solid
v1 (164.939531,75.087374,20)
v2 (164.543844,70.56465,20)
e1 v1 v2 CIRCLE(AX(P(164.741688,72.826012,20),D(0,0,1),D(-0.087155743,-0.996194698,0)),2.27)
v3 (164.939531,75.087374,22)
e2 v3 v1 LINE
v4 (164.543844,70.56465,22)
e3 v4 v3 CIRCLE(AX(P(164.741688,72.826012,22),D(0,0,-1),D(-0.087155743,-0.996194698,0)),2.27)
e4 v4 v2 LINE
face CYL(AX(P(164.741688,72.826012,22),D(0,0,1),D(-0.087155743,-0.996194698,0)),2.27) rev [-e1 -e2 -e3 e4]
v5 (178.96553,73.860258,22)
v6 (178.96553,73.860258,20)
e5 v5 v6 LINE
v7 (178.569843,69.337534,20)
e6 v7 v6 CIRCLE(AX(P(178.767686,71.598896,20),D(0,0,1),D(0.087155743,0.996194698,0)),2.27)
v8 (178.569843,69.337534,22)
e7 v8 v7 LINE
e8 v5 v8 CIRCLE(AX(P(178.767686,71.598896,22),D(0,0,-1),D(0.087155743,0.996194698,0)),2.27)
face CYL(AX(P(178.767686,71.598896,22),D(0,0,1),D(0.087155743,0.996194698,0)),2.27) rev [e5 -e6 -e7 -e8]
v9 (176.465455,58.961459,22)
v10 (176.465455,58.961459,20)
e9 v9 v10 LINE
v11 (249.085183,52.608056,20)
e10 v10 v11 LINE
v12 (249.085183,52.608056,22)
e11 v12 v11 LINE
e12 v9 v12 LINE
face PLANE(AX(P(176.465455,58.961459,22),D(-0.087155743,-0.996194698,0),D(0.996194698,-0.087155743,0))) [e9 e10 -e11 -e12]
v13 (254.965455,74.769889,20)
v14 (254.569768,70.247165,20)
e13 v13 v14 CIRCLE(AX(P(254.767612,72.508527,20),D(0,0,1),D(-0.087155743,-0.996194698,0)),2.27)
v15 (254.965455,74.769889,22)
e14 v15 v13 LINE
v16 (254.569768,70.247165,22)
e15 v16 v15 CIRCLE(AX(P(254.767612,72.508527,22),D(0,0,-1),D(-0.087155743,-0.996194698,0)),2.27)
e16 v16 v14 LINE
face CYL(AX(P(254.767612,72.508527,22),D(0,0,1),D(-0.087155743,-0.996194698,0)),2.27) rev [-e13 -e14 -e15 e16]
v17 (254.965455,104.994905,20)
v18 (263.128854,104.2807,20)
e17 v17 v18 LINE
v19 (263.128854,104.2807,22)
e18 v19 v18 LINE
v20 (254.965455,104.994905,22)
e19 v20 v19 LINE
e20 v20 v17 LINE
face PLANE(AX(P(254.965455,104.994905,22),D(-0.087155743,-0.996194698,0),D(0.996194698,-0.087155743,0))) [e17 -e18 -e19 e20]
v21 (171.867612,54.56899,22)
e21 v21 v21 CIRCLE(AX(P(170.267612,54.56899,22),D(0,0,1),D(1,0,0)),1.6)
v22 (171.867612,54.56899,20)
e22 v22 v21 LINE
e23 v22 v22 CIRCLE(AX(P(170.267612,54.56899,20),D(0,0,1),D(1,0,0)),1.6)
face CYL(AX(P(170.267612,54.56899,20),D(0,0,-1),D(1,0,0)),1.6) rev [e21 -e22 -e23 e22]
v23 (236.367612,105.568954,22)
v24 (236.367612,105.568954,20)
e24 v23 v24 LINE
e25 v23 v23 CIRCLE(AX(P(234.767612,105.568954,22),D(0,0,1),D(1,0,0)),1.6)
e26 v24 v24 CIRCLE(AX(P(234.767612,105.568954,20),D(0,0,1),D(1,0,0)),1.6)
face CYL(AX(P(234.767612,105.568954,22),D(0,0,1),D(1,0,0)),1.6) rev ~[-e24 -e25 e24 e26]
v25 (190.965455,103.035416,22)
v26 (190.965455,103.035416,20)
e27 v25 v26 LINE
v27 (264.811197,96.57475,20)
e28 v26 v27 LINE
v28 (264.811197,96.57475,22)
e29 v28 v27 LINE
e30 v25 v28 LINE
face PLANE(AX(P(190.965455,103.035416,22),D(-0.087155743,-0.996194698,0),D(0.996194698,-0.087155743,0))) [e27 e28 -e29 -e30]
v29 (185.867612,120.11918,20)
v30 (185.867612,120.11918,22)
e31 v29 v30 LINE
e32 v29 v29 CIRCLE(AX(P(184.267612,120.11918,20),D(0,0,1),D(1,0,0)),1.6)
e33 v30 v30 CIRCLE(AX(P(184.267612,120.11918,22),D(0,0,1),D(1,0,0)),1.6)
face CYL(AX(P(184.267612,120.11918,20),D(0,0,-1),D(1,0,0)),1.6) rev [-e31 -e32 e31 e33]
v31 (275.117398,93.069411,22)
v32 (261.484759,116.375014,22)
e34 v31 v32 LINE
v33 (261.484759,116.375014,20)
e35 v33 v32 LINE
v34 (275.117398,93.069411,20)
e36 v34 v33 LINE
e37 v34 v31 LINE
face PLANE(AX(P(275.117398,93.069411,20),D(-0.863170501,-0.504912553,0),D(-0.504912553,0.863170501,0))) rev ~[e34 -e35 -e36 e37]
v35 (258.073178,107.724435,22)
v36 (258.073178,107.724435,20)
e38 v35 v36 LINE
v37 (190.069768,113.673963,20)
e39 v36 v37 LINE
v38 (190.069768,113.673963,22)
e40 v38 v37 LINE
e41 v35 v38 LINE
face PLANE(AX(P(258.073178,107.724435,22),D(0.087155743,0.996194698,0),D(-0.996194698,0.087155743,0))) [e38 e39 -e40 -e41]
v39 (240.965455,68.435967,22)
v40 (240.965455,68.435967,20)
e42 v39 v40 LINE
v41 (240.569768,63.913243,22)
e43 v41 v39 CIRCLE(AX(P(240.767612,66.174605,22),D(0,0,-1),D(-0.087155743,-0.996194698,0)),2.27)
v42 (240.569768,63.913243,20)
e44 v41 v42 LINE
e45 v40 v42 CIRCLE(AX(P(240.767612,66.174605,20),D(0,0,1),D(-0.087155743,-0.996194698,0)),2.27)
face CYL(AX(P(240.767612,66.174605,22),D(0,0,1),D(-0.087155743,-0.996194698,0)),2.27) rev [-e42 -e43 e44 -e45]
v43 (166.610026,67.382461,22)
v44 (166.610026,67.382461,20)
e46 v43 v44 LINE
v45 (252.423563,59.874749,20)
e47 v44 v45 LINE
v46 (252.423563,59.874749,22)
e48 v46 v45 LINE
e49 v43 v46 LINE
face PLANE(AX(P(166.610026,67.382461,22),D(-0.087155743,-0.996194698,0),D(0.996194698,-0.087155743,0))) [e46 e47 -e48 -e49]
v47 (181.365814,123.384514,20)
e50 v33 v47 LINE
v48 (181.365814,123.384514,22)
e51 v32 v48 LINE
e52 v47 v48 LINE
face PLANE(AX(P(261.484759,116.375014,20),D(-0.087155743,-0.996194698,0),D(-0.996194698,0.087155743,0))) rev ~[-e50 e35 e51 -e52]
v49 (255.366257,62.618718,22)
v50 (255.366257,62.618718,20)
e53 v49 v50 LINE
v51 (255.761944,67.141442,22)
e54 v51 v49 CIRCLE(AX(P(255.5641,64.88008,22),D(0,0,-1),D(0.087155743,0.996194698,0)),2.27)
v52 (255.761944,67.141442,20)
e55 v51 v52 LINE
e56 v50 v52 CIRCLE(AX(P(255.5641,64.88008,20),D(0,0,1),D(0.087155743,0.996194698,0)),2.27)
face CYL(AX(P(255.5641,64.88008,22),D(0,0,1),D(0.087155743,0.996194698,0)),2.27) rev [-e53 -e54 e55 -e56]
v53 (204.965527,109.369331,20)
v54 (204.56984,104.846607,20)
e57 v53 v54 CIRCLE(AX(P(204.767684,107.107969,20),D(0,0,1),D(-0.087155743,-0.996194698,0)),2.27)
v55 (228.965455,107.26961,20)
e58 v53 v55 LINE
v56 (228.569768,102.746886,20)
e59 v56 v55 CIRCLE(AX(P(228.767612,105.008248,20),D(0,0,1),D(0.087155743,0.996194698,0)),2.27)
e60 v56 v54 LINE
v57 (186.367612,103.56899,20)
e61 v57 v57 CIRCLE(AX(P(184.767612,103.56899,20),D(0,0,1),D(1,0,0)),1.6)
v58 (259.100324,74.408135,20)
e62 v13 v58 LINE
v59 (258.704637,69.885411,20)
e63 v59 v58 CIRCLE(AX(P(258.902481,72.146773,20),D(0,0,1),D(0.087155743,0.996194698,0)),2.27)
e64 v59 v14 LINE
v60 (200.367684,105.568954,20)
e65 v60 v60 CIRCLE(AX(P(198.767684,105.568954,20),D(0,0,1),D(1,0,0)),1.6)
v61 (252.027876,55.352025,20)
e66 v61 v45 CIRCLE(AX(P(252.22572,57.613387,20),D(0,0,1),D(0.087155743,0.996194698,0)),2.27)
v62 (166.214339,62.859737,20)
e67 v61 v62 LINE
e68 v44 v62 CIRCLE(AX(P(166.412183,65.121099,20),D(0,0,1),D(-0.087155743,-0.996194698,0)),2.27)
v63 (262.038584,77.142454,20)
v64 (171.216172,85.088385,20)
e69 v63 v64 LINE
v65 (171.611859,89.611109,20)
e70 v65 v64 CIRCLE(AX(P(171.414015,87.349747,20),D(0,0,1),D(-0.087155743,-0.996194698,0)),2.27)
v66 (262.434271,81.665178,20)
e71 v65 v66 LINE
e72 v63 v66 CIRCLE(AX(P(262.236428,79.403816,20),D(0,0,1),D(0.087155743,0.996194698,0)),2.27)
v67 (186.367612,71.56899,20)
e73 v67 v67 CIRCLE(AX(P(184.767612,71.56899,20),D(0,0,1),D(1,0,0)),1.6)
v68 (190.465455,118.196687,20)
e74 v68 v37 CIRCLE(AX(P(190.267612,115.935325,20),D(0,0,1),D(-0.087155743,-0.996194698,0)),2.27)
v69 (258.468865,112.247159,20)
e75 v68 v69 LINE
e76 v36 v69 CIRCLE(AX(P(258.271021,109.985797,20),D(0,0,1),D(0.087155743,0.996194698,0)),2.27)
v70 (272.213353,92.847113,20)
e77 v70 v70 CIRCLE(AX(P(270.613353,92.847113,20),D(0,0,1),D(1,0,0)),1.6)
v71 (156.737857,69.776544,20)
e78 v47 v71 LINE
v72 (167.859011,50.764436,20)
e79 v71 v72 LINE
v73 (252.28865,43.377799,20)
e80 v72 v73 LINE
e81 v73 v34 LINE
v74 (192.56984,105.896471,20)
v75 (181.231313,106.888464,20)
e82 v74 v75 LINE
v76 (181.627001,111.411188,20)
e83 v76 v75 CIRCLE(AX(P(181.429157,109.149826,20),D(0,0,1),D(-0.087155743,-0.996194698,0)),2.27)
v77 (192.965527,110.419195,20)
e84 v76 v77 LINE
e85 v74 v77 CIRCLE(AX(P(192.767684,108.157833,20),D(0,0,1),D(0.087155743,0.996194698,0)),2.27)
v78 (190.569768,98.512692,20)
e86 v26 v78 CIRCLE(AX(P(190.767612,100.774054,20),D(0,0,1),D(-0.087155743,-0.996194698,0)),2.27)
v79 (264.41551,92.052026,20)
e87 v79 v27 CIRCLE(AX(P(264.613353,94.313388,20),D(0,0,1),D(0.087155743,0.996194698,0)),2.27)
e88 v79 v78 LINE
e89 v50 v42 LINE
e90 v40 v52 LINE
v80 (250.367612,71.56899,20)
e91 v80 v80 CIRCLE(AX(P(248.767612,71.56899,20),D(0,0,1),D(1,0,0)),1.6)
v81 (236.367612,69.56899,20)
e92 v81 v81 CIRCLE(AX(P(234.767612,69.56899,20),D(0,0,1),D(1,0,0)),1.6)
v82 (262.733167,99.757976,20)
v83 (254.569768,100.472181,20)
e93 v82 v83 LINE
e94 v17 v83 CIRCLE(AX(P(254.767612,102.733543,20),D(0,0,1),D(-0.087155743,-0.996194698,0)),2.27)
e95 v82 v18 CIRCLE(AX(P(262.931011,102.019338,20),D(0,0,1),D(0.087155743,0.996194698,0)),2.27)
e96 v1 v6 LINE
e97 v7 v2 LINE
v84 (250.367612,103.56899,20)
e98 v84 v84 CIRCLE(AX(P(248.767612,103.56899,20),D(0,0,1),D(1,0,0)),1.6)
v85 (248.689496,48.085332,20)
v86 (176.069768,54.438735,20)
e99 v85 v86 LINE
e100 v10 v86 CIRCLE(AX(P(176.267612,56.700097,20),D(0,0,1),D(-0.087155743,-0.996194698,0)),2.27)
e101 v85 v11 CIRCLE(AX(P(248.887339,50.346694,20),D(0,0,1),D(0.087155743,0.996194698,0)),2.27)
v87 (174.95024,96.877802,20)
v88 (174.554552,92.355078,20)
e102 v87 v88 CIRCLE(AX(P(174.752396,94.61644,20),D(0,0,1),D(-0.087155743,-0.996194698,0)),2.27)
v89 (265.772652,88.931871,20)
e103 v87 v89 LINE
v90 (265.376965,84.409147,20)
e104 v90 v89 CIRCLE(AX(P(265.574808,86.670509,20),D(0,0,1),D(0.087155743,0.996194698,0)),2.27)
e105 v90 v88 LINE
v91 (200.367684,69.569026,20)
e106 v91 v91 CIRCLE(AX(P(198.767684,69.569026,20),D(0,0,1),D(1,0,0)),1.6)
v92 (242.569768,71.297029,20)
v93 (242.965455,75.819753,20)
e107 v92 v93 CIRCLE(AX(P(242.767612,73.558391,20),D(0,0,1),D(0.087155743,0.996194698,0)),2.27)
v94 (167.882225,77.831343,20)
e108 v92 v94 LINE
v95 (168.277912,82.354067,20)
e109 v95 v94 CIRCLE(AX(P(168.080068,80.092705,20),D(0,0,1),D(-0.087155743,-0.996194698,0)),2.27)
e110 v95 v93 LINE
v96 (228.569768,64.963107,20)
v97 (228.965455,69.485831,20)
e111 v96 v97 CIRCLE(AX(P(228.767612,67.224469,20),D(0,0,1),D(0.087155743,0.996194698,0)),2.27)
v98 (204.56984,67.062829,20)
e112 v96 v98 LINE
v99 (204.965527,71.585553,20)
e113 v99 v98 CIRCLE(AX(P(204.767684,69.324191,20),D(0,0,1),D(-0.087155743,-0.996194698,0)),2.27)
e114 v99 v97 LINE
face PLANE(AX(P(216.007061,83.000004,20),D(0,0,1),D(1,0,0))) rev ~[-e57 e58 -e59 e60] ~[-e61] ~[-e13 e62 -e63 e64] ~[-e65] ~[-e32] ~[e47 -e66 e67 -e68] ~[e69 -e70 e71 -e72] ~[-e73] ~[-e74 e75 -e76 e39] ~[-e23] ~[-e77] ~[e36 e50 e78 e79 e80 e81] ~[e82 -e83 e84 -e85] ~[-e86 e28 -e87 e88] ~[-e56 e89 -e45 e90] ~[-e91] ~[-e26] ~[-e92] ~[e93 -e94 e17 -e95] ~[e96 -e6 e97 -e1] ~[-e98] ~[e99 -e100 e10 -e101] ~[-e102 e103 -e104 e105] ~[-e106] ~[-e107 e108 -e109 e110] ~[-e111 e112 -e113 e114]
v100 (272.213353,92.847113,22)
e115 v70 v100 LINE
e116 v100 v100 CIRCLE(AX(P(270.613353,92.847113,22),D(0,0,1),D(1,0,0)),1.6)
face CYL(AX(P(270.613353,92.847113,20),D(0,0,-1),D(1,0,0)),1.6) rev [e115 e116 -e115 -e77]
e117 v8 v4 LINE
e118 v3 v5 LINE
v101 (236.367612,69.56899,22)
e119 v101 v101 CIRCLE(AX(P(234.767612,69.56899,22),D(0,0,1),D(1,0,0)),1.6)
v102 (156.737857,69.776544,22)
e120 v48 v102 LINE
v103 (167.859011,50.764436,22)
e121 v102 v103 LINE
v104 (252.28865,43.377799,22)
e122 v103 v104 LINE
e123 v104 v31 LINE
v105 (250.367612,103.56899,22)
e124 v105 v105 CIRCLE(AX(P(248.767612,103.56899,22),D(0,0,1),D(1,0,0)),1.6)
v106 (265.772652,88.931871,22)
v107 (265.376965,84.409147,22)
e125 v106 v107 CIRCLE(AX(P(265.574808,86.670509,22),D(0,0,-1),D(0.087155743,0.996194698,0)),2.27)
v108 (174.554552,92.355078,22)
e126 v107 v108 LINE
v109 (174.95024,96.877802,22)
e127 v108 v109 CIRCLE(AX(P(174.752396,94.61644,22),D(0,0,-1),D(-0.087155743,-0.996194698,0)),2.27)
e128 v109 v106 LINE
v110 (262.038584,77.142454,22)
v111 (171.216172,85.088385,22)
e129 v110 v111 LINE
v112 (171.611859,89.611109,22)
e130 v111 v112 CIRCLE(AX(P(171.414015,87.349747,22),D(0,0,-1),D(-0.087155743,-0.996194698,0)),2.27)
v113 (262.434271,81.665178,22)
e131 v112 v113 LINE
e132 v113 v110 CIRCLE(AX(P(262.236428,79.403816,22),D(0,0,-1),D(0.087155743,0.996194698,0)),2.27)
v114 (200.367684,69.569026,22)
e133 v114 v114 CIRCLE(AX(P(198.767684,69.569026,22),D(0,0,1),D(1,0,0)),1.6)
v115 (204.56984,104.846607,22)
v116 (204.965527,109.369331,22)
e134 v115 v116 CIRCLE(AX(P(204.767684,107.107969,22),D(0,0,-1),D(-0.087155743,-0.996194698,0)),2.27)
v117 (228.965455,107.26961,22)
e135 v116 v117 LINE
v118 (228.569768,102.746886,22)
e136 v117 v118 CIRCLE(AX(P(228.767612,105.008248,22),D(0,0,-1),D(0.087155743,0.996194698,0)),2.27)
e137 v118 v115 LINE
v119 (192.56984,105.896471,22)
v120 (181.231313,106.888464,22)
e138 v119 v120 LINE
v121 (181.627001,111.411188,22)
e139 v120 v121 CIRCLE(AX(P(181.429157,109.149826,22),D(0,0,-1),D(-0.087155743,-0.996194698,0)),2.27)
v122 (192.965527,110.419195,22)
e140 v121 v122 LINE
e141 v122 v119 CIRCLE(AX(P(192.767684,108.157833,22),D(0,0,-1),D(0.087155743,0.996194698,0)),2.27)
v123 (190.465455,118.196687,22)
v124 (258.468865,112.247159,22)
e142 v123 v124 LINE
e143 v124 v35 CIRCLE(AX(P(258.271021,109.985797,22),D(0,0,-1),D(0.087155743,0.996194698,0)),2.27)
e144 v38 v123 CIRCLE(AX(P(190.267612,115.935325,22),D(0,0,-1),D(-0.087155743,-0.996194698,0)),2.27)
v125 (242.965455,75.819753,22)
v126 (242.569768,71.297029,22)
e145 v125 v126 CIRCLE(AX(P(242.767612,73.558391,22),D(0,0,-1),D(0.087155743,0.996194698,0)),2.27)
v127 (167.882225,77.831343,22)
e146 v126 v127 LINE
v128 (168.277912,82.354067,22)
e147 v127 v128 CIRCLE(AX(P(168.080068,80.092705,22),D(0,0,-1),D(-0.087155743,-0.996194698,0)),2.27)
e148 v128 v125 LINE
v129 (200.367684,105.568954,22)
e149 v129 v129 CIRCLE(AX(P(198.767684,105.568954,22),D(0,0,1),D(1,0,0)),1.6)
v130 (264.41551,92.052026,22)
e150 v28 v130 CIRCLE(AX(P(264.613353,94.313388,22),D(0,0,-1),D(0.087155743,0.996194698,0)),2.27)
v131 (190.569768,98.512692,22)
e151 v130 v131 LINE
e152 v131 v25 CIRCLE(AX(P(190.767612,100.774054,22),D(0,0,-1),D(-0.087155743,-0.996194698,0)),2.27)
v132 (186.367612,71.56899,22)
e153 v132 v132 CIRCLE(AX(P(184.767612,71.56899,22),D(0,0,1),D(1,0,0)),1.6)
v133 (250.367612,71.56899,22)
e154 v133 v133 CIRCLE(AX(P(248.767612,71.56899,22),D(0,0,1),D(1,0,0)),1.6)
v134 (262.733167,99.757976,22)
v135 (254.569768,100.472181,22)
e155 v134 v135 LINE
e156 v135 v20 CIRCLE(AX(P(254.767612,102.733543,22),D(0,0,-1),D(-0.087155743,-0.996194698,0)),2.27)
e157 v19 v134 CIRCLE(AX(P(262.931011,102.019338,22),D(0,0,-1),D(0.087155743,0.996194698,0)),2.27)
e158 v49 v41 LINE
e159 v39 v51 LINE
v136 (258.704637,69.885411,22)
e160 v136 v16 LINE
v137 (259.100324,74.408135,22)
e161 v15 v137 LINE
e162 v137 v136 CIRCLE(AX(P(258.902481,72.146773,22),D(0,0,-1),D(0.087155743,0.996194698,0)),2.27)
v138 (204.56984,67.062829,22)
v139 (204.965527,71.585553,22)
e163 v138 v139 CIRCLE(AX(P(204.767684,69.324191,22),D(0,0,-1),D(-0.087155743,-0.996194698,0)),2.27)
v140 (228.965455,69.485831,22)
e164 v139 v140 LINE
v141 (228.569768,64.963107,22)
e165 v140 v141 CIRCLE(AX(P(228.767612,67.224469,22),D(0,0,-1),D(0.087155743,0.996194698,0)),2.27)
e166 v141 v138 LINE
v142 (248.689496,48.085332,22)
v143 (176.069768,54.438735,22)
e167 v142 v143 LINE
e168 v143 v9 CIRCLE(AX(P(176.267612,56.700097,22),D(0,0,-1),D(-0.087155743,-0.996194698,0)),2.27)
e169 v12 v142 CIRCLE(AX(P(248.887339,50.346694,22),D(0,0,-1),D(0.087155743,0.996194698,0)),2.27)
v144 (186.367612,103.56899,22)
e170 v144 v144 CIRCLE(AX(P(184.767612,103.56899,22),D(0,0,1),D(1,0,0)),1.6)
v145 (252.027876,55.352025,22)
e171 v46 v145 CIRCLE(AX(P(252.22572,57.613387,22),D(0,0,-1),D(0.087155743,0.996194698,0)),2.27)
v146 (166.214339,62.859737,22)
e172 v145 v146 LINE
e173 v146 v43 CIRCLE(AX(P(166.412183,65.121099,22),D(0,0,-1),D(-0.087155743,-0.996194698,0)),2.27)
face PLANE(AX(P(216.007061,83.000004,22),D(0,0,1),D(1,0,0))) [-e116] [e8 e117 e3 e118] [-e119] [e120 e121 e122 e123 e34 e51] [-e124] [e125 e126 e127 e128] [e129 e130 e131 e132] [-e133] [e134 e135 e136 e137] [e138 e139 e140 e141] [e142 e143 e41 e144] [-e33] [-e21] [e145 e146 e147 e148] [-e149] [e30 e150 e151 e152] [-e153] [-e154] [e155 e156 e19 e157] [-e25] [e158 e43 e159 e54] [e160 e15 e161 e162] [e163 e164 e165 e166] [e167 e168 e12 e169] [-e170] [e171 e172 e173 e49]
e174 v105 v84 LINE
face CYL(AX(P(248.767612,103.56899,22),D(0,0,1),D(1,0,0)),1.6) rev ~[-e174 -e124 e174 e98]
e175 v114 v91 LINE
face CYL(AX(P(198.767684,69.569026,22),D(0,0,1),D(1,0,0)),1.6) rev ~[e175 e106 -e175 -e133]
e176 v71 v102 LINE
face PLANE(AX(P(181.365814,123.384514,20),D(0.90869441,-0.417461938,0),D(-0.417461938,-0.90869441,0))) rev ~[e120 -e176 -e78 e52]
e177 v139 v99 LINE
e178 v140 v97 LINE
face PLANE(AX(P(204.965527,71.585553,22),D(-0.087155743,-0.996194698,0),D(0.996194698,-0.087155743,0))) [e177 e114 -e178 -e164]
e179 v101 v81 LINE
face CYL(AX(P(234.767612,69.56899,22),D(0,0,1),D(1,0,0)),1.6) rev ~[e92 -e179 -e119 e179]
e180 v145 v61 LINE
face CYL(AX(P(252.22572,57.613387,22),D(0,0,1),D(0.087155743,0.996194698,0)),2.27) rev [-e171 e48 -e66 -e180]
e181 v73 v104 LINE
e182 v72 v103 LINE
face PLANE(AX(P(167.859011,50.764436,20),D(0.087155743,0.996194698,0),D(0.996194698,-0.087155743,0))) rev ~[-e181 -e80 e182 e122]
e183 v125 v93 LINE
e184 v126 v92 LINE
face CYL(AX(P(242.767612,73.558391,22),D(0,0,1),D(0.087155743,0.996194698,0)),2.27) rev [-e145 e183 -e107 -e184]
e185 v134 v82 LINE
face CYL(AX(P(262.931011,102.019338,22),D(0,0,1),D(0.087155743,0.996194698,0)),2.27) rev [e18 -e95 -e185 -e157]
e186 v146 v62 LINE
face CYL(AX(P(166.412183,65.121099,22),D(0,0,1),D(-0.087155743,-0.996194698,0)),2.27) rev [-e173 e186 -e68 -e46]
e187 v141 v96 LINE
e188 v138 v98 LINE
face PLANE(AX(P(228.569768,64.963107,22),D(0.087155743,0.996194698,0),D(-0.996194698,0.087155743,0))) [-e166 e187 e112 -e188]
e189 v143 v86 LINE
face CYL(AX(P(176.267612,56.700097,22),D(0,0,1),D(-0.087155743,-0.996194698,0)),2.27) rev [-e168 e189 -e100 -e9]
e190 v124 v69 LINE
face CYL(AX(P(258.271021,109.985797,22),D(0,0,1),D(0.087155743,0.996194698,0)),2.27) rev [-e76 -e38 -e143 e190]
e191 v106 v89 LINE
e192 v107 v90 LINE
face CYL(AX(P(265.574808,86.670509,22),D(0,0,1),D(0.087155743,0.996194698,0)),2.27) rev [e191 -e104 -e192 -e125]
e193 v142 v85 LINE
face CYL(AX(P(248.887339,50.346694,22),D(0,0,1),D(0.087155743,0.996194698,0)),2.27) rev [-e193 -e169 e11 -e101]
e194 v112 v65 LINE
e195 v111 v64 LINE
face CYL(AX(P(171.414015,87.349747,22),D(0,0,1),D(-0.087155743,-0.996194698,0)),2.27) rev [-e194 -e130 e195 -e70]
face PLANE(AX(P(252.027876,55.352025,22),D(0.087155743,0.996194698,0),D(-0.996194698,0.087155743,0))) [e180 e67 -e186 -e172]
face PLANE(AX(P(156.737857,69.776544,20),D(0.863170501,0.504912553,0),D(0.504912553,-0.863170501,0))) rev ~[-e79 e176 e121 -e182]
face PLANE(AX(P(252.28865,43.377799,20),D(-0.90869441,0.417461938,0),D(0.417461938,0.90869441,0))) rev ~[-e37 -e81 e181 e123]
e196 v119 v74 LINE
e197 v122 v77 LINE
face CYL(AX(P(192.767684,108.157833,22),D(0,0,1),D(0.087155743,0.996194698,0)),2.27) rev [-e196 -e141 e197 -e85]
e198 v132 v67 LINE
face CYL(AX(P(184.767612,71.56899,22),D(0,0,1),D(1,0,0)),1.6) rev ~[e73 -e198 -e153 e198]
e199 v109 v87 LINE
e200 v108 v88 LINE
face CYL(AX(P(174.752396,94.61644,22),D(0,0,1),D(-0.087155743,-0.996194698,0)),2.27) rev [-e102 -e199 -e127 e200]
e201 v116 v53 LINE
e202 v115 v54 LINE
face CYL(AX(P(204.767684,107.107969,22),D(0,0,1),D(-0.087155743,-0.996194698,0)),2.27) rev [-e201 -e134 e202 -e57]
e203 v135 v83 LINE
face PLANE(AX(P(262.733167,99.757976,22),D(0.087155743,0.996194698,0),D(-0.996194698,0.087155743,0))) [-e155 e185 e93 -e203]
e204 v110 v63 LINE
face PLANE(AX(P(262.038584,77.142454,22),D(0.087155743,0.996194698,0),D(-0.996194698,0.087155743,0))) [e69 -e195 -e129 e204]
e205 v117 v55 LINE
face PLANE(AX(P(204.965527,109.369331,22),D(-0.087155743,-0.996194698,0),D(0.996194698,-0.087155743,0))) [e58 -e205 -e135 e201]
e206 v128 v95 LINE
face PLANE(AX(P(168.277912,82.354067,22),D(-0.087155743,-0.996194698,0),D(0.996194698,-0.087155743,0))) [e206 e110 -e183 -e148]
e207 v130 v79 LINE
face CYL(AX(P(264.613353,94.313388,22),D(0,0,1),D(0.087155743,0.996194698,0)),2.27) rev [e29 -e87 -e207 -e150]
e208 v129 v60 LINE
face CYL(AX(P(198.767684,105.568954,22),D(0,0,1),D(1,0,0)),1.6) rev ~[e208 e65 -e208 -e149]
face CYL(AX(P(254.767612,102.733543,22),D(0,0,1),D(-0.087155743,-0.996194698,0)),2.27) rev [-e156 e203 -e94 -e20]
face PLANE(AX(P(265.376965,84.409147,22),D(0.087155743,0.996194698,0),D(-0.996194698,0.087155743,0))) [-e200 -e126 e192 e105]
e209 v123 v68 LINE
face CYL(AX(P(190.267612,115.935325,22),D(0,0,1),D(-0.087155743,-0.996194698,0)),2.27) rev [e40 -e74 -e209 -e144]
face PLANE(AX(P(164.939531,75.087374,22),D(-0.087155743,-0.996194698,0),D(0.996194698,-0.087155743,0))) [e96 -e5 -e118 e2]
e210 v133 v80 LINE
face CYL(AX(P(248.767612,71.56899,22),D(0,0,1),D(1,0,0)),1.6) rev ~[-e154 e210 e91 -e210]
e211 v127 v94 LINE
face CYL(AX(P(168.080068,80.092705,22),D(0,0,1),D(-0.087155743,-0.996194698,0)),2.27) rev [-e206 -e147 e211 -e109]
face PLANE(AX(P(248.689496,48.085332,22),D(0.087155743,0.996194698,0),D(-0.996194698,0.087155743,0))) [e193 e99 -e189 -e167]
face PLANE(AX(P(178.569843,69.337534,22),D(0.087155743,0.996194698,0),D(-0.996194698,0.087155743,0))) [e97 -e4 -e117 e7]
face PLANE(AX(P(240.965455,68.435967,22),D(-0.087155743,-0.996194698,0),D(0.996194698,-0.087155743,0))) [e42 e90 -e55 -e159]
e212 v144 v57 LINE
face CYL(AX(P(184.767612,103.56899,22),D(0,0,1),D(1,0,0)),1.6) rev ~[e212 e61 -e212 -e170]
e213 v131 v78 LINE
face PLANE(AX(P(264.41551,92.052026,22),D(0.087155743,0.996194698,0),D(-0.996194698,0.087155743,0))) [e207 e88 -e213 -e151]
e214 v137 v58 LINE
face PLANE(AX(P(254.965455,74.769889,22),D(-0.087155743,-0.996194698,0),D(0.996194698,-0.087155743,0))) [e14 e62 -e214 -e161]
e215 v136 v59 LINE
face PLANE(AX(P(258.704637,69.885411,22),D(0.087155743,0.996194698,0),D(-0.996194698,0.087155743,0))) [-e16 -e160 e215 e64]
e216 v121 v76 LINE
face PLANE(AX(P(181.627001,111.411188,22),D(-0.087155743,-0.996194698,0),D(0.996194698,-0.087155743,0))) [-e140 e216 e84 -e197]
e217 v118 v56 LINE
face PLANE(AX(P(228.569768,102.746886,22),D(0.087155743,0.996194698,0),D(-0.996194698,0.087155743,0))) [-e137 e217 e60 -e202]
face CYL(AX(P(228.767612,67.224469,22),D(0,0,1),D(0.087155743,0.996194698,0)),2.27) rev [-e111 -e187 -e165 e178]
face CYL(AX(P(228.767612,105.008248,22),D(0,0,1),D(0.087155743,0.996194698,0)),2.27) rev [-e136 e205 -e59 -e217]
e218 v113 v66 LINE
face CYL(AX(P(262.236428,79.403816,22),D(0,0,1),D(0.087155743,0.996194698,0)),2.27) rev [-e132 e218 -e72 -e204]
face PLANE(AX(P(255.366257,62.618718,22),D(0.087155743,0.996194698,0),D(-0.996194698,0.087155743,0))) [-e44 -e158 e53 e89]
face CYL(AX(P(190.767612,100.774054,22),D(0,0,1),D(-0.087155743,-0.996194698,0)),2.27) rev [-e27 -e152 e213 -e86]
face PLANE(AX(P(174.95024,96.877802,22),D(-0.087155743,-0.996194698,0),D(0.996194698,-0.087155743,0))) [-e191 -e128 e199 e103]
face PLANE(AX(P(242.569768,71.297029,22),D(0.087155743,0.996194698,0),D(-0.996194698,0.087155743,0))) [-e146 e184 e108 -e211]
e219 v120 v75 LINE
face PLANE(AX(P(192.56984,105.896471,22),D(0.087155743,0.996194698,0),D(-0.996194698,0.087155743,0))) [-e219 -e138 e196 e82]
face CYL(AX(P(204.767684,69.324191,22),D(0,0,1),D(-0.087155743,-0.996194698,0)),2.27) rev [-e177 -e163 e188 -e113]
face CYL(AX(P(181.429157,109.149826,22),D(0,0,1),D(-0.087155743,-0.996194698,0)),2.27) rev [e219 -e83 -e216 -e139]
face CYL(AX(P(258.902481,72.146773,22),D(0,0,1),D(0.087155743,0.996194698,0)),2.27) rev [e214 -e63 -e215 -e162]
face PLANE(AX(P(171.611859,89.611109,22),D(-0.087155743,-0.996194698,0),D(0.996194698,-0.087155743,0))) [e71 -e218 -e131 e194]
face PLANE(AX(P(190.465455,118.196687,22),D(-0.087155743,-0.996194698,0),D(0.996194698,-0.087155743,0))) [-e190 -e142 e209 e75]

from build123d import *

# Parameters (mm, degrees)
SKETCH2_R           = 1.6
BOSS_EXTRUDE1_DEPTH = 2
SKETCH3_R           = 1.6
CUT_EXTRUDE1_DEPTH  = 10
SKETCH4_R           = 1.6
CUT_EXTRUDE2_DEPTH  = 10
CUT_EXTRUDE3_DEPTH  = 10


with BuildPart() as part:
    # Sketch2 → Boss-Extrude1 (new body)
    with BuildSketch(Plane.XY.offset(20)):
        Polygon((252.288649586, 43.377799412), (275.117398408, 93.06941092), (261.484759484, 116.375014451), (181.365813862, 123.384513926), (156.737856831, 69.776544321), (167.859011127, 50.764435642), align=None)
        with Locations((184.267611591, 120.119180009)):
            Circle(SKETCH2_R, mode=Mode.SUBTRACT)
        with Locations((270.61335305, 92.847113196)):
            Circle(SKETCH2_R, mode=Mode.SUBTRACT)
        with Locations((170.267611591, 54.568989757)):
            Circle(SKETCH2_R, mode=Mode.SUBTRACT)
    extrude(amount=BOSS_EXTRUDE1_DEPTH)

    # Sketch3 → Cut-Extrude1 (cut)
    with BuildSketch(Plane.XY.offset(22)):
        with Locations((184.767611591, 103.568989757)):
            Circle(SKETCH3_R)
        with Locations((248.767611591, 103.568989757)):
            Circle(SKETCH3_R)
        with Locations((184.767611591, 71.568989757)):
            Circle(SKETCH3_R)
        with Locations((248.767611591, 71.568989757)):
            Circle(SKETCH3_R)
    extrude(amount=-CUT_EXTRUDE1_DEPTH, mode=Mode.SUBTRACT)

    # Sketch4 → Cut-Extrude2 (cut)
    with BuildSketch(Plane.XY.offset(22)):
        with Locations((198.767683591, 105.568953757)):
            Circle(SKETCH4_R)
        with Locations((234.767611591, 105.568953757)):
            Circle(SKETCH4_R)
        with Locations((198.767683591, 69.569025757)):
            Circle(SKETCH4_R)
        with Locations((234.767611591, 69.568989757)):
            Circle(SKETCH4_R)
    extrude(amount=-CUT_EXTRUDE2_DEPTH, mode=Mode.SUBTRACT)

    # Sketch5 → Cut-Extrude3 (cut)
    with BuildSketch(Plane.XY.offset(22)):
        with BuildLine():
            Line((190.465455127, 118.196686684), (258.46886477, 112.247159259))
            ThreePointArc((258.46886477, 112.247159259), (260.532383199, 109.787953759), (258.073177698, 107.72443533))
            Line((258.073177698, 107.72443533), (190.069768055, 113.673962755))
            ThreePointArc((190.069768055, 113.673962755), (188.006249627, 116.133168256), (190.465455127, 118.196686684))
        make_face()
        with BuildLine():
            Line((181.627000542, 111.411187887), (192.965527127, 110.41919535))
            ThreePointArc((192.965527127, 110.41919535), (195.029045556, 107.959989849), (192.569840055, 105.89647142))
            Line((192.569840055, 105.89647142), (181.23131347, 106.888463958))
            ThreePointArc((181.23131347, 106.888463958), (179.167795041, 109.347669458), (181.627000542, 111.411187887))
        make_face()
        with BuildLine():
            Line((204.965527127, 109.369331387), (228.965455127, 107.269609762))
            ThreePointArc((228.965455127, 107.269609762), (231.028973556, 104.810404261), (228.569768055, 102.746885833))
            Line((228.569768055, 102.746885833), (204.569840055, 104.846607458))
            ThreePointArc((204.569840055, 104.846607458), (202.506321627, 107.305812959), (204.965527127, 109.369331387))
        make_face()
        with BuildLine():
            Line((254.965455127, 104.99490451), (263.128854265, 104.28069963))
            ThreePointArc((263.128854265, 104.28069963), (265.192372694, 101.821494129), (262.733167193, 99.7579757))
            Line((262.733167193, 99.7579757), (254.569768055, 100.472180581))
            ThreePointArc((254.569768055, 100.472180581), (252.506249627, 102.931386082), (254.965455127, 104.99490451))
        make_face()
        with BuildLine():
            Line((190.965455127, 103.035415599), (264.811196586, 96.574750372))
            ThreePointArc((264.811196586, 96.574750372), (266.874715015, 94.115544871), (264.415509514, 92.052026442))
            Line((264.415509514, 92.052026442), (190.569768055, 98.51269167))
            ThreePointArc((190.569768055, 98.51269167), (188.506249627, 100.971897171), (190.965455127, 103.035415599))
        make_face()
        with BuildLine():
            Line((174.950239512, 96.877802033), (265.772651965, 88.931870549))
            ThreePointArc((265.772651965, 88.931870549), (267.836170393, 86.472665048), (265.376964893, 84.40914662))
            Line((265.376964893, 84.40914662), (174.55455244, 92.355078103))
            ThreePointArc((174.55455244, 92.355078103), (172.491034011, 94.814283604), (174.950239512, 96.877802033))
        make_face()
        with BuildLine():
            Line((171.611858997, 89.611109106), (262.43427145, 81.665177622))
            ThreePointArc((262.43427145, 81.665177622), (264.497789879, 79.205972121), (262.038584378, 77.142453693))
            Line((262.038584378, 77.142453693), (171.216171925, 85.088385176))
            ThreePointArc((171.216171925, 85.088385176), (169.152653497, 87.547590677), (171.611858997, 89.611109106))
        make_face()
        with BuildLine():
            Line((168.277911923, 82.354066501), (242.965455127, 75.819753164))
            ThreePointArc((242.965455127, 75.819753164), (245.028973556, 73.360547663), (242.569768055, 71.297029235))
            Line((242.569768055, 71.297029235), (167.882224851, 77.831342572))
            ThreePointArc((167.882224851, 77.831342572), (165.818706422, 80.290548072), (168.277911923, 82.354066501))
        make_face()
        with BuildLine():
            Line((254.965455127, 74.769889202), (259.100324376, 74.408135017))
            ThreePointArc((259.100324376, 74.408135017), (261.163842804, 71.948929517), (258.704637304, 69.885411088))
            Line((258.704637304, 69.885411088), (254.569768055, 70.247165272))
            ThreePointArc((254.569768055, 70.247165272), (252.506249627, 72.706370773), (254.965455127, 74.769889202))
        make_face()
        with BuildLine():
            Line((164.939531408, 75.087373574), (178.965529659, 73.860257732))
            ThreePointArc((178.965529659, 73.860257732), (181.029048087, 71.401052232), (178.569842586, 69.337533803))
            Line((178.569842586, 69.337533803), (164.543844336, 70.564649645))
            ThreePointArc((164.543844336, 70.564649645), (162.480325907, 73.023855145), (164.939531408, 75.087373574))
        make_face()
        with BuildLine():
            Line((204.965527127, 71.585552702), (228.965455127, 69.485831077))
            ThreePointArc((228.965455127, 69.485831077), (231.028973556, 67.026625576), (228.569768055, 64.963107147))
            Line((228.569768055, 64.963107147), (204.569840055, 67.062828773))
            ThreePointArc((204.569840055, 67.062828773), (202.506321627, 69.522034274), (204.965527127, 71.585552702))
        make_face()
        with BuildLine():
            Line((240.965455127, 68.435967114), (255.761943861, 67.14144209))
            ThreePointArc((255.761943861, 67.14144209), (257.82546229, 64.68223659), (255.366256789, 62.618718161))
            Line((255.366256789, 62.618718161), (240.569768055, 63.913243185))
            ThreePointArc((240.569768055, 63.913243185), (238.506249627, 66.372448686), (240.965455127, 68.435967114))
        make_face()
        with BuildLine():
            Line((166.610026404, 67.382460823), (252.423563346, 59.874749163))
            ThreePointArc((252.423563346, 59.874749163), (254.487081775, 57.415543662), (252.027876274, 55.352025234))
            Line((252.027876274, 55.352025234), (166.214339332, 62.859736893))
            ThreePointArc((166.214339332, 62.859736893), (164.150820903, 65.318942394), (166.610026404, 67.382460823))
        make_face()
        with BuildLine():
            Line((176.465455127, 58.961459158), (249.085182831, 52.608056236))
            ThreePointArc((249.085182831, 52.608056236), (251.14870126, 50.148850735), (248.689495759, 48.085332307))
            Line((248.689495759, 48.085332307), (176.069768055, 54.438735229))
            ThreePointArc((176.069768055, 54.438735229), (174.006249627, 56.89794073), (176.465455127, 58.961459158))
        make_face()
    extrude(amount=-CUT_EXTRUDE3_DEPTH, mode=Mode.SUBTRACT)


solid = part.part
